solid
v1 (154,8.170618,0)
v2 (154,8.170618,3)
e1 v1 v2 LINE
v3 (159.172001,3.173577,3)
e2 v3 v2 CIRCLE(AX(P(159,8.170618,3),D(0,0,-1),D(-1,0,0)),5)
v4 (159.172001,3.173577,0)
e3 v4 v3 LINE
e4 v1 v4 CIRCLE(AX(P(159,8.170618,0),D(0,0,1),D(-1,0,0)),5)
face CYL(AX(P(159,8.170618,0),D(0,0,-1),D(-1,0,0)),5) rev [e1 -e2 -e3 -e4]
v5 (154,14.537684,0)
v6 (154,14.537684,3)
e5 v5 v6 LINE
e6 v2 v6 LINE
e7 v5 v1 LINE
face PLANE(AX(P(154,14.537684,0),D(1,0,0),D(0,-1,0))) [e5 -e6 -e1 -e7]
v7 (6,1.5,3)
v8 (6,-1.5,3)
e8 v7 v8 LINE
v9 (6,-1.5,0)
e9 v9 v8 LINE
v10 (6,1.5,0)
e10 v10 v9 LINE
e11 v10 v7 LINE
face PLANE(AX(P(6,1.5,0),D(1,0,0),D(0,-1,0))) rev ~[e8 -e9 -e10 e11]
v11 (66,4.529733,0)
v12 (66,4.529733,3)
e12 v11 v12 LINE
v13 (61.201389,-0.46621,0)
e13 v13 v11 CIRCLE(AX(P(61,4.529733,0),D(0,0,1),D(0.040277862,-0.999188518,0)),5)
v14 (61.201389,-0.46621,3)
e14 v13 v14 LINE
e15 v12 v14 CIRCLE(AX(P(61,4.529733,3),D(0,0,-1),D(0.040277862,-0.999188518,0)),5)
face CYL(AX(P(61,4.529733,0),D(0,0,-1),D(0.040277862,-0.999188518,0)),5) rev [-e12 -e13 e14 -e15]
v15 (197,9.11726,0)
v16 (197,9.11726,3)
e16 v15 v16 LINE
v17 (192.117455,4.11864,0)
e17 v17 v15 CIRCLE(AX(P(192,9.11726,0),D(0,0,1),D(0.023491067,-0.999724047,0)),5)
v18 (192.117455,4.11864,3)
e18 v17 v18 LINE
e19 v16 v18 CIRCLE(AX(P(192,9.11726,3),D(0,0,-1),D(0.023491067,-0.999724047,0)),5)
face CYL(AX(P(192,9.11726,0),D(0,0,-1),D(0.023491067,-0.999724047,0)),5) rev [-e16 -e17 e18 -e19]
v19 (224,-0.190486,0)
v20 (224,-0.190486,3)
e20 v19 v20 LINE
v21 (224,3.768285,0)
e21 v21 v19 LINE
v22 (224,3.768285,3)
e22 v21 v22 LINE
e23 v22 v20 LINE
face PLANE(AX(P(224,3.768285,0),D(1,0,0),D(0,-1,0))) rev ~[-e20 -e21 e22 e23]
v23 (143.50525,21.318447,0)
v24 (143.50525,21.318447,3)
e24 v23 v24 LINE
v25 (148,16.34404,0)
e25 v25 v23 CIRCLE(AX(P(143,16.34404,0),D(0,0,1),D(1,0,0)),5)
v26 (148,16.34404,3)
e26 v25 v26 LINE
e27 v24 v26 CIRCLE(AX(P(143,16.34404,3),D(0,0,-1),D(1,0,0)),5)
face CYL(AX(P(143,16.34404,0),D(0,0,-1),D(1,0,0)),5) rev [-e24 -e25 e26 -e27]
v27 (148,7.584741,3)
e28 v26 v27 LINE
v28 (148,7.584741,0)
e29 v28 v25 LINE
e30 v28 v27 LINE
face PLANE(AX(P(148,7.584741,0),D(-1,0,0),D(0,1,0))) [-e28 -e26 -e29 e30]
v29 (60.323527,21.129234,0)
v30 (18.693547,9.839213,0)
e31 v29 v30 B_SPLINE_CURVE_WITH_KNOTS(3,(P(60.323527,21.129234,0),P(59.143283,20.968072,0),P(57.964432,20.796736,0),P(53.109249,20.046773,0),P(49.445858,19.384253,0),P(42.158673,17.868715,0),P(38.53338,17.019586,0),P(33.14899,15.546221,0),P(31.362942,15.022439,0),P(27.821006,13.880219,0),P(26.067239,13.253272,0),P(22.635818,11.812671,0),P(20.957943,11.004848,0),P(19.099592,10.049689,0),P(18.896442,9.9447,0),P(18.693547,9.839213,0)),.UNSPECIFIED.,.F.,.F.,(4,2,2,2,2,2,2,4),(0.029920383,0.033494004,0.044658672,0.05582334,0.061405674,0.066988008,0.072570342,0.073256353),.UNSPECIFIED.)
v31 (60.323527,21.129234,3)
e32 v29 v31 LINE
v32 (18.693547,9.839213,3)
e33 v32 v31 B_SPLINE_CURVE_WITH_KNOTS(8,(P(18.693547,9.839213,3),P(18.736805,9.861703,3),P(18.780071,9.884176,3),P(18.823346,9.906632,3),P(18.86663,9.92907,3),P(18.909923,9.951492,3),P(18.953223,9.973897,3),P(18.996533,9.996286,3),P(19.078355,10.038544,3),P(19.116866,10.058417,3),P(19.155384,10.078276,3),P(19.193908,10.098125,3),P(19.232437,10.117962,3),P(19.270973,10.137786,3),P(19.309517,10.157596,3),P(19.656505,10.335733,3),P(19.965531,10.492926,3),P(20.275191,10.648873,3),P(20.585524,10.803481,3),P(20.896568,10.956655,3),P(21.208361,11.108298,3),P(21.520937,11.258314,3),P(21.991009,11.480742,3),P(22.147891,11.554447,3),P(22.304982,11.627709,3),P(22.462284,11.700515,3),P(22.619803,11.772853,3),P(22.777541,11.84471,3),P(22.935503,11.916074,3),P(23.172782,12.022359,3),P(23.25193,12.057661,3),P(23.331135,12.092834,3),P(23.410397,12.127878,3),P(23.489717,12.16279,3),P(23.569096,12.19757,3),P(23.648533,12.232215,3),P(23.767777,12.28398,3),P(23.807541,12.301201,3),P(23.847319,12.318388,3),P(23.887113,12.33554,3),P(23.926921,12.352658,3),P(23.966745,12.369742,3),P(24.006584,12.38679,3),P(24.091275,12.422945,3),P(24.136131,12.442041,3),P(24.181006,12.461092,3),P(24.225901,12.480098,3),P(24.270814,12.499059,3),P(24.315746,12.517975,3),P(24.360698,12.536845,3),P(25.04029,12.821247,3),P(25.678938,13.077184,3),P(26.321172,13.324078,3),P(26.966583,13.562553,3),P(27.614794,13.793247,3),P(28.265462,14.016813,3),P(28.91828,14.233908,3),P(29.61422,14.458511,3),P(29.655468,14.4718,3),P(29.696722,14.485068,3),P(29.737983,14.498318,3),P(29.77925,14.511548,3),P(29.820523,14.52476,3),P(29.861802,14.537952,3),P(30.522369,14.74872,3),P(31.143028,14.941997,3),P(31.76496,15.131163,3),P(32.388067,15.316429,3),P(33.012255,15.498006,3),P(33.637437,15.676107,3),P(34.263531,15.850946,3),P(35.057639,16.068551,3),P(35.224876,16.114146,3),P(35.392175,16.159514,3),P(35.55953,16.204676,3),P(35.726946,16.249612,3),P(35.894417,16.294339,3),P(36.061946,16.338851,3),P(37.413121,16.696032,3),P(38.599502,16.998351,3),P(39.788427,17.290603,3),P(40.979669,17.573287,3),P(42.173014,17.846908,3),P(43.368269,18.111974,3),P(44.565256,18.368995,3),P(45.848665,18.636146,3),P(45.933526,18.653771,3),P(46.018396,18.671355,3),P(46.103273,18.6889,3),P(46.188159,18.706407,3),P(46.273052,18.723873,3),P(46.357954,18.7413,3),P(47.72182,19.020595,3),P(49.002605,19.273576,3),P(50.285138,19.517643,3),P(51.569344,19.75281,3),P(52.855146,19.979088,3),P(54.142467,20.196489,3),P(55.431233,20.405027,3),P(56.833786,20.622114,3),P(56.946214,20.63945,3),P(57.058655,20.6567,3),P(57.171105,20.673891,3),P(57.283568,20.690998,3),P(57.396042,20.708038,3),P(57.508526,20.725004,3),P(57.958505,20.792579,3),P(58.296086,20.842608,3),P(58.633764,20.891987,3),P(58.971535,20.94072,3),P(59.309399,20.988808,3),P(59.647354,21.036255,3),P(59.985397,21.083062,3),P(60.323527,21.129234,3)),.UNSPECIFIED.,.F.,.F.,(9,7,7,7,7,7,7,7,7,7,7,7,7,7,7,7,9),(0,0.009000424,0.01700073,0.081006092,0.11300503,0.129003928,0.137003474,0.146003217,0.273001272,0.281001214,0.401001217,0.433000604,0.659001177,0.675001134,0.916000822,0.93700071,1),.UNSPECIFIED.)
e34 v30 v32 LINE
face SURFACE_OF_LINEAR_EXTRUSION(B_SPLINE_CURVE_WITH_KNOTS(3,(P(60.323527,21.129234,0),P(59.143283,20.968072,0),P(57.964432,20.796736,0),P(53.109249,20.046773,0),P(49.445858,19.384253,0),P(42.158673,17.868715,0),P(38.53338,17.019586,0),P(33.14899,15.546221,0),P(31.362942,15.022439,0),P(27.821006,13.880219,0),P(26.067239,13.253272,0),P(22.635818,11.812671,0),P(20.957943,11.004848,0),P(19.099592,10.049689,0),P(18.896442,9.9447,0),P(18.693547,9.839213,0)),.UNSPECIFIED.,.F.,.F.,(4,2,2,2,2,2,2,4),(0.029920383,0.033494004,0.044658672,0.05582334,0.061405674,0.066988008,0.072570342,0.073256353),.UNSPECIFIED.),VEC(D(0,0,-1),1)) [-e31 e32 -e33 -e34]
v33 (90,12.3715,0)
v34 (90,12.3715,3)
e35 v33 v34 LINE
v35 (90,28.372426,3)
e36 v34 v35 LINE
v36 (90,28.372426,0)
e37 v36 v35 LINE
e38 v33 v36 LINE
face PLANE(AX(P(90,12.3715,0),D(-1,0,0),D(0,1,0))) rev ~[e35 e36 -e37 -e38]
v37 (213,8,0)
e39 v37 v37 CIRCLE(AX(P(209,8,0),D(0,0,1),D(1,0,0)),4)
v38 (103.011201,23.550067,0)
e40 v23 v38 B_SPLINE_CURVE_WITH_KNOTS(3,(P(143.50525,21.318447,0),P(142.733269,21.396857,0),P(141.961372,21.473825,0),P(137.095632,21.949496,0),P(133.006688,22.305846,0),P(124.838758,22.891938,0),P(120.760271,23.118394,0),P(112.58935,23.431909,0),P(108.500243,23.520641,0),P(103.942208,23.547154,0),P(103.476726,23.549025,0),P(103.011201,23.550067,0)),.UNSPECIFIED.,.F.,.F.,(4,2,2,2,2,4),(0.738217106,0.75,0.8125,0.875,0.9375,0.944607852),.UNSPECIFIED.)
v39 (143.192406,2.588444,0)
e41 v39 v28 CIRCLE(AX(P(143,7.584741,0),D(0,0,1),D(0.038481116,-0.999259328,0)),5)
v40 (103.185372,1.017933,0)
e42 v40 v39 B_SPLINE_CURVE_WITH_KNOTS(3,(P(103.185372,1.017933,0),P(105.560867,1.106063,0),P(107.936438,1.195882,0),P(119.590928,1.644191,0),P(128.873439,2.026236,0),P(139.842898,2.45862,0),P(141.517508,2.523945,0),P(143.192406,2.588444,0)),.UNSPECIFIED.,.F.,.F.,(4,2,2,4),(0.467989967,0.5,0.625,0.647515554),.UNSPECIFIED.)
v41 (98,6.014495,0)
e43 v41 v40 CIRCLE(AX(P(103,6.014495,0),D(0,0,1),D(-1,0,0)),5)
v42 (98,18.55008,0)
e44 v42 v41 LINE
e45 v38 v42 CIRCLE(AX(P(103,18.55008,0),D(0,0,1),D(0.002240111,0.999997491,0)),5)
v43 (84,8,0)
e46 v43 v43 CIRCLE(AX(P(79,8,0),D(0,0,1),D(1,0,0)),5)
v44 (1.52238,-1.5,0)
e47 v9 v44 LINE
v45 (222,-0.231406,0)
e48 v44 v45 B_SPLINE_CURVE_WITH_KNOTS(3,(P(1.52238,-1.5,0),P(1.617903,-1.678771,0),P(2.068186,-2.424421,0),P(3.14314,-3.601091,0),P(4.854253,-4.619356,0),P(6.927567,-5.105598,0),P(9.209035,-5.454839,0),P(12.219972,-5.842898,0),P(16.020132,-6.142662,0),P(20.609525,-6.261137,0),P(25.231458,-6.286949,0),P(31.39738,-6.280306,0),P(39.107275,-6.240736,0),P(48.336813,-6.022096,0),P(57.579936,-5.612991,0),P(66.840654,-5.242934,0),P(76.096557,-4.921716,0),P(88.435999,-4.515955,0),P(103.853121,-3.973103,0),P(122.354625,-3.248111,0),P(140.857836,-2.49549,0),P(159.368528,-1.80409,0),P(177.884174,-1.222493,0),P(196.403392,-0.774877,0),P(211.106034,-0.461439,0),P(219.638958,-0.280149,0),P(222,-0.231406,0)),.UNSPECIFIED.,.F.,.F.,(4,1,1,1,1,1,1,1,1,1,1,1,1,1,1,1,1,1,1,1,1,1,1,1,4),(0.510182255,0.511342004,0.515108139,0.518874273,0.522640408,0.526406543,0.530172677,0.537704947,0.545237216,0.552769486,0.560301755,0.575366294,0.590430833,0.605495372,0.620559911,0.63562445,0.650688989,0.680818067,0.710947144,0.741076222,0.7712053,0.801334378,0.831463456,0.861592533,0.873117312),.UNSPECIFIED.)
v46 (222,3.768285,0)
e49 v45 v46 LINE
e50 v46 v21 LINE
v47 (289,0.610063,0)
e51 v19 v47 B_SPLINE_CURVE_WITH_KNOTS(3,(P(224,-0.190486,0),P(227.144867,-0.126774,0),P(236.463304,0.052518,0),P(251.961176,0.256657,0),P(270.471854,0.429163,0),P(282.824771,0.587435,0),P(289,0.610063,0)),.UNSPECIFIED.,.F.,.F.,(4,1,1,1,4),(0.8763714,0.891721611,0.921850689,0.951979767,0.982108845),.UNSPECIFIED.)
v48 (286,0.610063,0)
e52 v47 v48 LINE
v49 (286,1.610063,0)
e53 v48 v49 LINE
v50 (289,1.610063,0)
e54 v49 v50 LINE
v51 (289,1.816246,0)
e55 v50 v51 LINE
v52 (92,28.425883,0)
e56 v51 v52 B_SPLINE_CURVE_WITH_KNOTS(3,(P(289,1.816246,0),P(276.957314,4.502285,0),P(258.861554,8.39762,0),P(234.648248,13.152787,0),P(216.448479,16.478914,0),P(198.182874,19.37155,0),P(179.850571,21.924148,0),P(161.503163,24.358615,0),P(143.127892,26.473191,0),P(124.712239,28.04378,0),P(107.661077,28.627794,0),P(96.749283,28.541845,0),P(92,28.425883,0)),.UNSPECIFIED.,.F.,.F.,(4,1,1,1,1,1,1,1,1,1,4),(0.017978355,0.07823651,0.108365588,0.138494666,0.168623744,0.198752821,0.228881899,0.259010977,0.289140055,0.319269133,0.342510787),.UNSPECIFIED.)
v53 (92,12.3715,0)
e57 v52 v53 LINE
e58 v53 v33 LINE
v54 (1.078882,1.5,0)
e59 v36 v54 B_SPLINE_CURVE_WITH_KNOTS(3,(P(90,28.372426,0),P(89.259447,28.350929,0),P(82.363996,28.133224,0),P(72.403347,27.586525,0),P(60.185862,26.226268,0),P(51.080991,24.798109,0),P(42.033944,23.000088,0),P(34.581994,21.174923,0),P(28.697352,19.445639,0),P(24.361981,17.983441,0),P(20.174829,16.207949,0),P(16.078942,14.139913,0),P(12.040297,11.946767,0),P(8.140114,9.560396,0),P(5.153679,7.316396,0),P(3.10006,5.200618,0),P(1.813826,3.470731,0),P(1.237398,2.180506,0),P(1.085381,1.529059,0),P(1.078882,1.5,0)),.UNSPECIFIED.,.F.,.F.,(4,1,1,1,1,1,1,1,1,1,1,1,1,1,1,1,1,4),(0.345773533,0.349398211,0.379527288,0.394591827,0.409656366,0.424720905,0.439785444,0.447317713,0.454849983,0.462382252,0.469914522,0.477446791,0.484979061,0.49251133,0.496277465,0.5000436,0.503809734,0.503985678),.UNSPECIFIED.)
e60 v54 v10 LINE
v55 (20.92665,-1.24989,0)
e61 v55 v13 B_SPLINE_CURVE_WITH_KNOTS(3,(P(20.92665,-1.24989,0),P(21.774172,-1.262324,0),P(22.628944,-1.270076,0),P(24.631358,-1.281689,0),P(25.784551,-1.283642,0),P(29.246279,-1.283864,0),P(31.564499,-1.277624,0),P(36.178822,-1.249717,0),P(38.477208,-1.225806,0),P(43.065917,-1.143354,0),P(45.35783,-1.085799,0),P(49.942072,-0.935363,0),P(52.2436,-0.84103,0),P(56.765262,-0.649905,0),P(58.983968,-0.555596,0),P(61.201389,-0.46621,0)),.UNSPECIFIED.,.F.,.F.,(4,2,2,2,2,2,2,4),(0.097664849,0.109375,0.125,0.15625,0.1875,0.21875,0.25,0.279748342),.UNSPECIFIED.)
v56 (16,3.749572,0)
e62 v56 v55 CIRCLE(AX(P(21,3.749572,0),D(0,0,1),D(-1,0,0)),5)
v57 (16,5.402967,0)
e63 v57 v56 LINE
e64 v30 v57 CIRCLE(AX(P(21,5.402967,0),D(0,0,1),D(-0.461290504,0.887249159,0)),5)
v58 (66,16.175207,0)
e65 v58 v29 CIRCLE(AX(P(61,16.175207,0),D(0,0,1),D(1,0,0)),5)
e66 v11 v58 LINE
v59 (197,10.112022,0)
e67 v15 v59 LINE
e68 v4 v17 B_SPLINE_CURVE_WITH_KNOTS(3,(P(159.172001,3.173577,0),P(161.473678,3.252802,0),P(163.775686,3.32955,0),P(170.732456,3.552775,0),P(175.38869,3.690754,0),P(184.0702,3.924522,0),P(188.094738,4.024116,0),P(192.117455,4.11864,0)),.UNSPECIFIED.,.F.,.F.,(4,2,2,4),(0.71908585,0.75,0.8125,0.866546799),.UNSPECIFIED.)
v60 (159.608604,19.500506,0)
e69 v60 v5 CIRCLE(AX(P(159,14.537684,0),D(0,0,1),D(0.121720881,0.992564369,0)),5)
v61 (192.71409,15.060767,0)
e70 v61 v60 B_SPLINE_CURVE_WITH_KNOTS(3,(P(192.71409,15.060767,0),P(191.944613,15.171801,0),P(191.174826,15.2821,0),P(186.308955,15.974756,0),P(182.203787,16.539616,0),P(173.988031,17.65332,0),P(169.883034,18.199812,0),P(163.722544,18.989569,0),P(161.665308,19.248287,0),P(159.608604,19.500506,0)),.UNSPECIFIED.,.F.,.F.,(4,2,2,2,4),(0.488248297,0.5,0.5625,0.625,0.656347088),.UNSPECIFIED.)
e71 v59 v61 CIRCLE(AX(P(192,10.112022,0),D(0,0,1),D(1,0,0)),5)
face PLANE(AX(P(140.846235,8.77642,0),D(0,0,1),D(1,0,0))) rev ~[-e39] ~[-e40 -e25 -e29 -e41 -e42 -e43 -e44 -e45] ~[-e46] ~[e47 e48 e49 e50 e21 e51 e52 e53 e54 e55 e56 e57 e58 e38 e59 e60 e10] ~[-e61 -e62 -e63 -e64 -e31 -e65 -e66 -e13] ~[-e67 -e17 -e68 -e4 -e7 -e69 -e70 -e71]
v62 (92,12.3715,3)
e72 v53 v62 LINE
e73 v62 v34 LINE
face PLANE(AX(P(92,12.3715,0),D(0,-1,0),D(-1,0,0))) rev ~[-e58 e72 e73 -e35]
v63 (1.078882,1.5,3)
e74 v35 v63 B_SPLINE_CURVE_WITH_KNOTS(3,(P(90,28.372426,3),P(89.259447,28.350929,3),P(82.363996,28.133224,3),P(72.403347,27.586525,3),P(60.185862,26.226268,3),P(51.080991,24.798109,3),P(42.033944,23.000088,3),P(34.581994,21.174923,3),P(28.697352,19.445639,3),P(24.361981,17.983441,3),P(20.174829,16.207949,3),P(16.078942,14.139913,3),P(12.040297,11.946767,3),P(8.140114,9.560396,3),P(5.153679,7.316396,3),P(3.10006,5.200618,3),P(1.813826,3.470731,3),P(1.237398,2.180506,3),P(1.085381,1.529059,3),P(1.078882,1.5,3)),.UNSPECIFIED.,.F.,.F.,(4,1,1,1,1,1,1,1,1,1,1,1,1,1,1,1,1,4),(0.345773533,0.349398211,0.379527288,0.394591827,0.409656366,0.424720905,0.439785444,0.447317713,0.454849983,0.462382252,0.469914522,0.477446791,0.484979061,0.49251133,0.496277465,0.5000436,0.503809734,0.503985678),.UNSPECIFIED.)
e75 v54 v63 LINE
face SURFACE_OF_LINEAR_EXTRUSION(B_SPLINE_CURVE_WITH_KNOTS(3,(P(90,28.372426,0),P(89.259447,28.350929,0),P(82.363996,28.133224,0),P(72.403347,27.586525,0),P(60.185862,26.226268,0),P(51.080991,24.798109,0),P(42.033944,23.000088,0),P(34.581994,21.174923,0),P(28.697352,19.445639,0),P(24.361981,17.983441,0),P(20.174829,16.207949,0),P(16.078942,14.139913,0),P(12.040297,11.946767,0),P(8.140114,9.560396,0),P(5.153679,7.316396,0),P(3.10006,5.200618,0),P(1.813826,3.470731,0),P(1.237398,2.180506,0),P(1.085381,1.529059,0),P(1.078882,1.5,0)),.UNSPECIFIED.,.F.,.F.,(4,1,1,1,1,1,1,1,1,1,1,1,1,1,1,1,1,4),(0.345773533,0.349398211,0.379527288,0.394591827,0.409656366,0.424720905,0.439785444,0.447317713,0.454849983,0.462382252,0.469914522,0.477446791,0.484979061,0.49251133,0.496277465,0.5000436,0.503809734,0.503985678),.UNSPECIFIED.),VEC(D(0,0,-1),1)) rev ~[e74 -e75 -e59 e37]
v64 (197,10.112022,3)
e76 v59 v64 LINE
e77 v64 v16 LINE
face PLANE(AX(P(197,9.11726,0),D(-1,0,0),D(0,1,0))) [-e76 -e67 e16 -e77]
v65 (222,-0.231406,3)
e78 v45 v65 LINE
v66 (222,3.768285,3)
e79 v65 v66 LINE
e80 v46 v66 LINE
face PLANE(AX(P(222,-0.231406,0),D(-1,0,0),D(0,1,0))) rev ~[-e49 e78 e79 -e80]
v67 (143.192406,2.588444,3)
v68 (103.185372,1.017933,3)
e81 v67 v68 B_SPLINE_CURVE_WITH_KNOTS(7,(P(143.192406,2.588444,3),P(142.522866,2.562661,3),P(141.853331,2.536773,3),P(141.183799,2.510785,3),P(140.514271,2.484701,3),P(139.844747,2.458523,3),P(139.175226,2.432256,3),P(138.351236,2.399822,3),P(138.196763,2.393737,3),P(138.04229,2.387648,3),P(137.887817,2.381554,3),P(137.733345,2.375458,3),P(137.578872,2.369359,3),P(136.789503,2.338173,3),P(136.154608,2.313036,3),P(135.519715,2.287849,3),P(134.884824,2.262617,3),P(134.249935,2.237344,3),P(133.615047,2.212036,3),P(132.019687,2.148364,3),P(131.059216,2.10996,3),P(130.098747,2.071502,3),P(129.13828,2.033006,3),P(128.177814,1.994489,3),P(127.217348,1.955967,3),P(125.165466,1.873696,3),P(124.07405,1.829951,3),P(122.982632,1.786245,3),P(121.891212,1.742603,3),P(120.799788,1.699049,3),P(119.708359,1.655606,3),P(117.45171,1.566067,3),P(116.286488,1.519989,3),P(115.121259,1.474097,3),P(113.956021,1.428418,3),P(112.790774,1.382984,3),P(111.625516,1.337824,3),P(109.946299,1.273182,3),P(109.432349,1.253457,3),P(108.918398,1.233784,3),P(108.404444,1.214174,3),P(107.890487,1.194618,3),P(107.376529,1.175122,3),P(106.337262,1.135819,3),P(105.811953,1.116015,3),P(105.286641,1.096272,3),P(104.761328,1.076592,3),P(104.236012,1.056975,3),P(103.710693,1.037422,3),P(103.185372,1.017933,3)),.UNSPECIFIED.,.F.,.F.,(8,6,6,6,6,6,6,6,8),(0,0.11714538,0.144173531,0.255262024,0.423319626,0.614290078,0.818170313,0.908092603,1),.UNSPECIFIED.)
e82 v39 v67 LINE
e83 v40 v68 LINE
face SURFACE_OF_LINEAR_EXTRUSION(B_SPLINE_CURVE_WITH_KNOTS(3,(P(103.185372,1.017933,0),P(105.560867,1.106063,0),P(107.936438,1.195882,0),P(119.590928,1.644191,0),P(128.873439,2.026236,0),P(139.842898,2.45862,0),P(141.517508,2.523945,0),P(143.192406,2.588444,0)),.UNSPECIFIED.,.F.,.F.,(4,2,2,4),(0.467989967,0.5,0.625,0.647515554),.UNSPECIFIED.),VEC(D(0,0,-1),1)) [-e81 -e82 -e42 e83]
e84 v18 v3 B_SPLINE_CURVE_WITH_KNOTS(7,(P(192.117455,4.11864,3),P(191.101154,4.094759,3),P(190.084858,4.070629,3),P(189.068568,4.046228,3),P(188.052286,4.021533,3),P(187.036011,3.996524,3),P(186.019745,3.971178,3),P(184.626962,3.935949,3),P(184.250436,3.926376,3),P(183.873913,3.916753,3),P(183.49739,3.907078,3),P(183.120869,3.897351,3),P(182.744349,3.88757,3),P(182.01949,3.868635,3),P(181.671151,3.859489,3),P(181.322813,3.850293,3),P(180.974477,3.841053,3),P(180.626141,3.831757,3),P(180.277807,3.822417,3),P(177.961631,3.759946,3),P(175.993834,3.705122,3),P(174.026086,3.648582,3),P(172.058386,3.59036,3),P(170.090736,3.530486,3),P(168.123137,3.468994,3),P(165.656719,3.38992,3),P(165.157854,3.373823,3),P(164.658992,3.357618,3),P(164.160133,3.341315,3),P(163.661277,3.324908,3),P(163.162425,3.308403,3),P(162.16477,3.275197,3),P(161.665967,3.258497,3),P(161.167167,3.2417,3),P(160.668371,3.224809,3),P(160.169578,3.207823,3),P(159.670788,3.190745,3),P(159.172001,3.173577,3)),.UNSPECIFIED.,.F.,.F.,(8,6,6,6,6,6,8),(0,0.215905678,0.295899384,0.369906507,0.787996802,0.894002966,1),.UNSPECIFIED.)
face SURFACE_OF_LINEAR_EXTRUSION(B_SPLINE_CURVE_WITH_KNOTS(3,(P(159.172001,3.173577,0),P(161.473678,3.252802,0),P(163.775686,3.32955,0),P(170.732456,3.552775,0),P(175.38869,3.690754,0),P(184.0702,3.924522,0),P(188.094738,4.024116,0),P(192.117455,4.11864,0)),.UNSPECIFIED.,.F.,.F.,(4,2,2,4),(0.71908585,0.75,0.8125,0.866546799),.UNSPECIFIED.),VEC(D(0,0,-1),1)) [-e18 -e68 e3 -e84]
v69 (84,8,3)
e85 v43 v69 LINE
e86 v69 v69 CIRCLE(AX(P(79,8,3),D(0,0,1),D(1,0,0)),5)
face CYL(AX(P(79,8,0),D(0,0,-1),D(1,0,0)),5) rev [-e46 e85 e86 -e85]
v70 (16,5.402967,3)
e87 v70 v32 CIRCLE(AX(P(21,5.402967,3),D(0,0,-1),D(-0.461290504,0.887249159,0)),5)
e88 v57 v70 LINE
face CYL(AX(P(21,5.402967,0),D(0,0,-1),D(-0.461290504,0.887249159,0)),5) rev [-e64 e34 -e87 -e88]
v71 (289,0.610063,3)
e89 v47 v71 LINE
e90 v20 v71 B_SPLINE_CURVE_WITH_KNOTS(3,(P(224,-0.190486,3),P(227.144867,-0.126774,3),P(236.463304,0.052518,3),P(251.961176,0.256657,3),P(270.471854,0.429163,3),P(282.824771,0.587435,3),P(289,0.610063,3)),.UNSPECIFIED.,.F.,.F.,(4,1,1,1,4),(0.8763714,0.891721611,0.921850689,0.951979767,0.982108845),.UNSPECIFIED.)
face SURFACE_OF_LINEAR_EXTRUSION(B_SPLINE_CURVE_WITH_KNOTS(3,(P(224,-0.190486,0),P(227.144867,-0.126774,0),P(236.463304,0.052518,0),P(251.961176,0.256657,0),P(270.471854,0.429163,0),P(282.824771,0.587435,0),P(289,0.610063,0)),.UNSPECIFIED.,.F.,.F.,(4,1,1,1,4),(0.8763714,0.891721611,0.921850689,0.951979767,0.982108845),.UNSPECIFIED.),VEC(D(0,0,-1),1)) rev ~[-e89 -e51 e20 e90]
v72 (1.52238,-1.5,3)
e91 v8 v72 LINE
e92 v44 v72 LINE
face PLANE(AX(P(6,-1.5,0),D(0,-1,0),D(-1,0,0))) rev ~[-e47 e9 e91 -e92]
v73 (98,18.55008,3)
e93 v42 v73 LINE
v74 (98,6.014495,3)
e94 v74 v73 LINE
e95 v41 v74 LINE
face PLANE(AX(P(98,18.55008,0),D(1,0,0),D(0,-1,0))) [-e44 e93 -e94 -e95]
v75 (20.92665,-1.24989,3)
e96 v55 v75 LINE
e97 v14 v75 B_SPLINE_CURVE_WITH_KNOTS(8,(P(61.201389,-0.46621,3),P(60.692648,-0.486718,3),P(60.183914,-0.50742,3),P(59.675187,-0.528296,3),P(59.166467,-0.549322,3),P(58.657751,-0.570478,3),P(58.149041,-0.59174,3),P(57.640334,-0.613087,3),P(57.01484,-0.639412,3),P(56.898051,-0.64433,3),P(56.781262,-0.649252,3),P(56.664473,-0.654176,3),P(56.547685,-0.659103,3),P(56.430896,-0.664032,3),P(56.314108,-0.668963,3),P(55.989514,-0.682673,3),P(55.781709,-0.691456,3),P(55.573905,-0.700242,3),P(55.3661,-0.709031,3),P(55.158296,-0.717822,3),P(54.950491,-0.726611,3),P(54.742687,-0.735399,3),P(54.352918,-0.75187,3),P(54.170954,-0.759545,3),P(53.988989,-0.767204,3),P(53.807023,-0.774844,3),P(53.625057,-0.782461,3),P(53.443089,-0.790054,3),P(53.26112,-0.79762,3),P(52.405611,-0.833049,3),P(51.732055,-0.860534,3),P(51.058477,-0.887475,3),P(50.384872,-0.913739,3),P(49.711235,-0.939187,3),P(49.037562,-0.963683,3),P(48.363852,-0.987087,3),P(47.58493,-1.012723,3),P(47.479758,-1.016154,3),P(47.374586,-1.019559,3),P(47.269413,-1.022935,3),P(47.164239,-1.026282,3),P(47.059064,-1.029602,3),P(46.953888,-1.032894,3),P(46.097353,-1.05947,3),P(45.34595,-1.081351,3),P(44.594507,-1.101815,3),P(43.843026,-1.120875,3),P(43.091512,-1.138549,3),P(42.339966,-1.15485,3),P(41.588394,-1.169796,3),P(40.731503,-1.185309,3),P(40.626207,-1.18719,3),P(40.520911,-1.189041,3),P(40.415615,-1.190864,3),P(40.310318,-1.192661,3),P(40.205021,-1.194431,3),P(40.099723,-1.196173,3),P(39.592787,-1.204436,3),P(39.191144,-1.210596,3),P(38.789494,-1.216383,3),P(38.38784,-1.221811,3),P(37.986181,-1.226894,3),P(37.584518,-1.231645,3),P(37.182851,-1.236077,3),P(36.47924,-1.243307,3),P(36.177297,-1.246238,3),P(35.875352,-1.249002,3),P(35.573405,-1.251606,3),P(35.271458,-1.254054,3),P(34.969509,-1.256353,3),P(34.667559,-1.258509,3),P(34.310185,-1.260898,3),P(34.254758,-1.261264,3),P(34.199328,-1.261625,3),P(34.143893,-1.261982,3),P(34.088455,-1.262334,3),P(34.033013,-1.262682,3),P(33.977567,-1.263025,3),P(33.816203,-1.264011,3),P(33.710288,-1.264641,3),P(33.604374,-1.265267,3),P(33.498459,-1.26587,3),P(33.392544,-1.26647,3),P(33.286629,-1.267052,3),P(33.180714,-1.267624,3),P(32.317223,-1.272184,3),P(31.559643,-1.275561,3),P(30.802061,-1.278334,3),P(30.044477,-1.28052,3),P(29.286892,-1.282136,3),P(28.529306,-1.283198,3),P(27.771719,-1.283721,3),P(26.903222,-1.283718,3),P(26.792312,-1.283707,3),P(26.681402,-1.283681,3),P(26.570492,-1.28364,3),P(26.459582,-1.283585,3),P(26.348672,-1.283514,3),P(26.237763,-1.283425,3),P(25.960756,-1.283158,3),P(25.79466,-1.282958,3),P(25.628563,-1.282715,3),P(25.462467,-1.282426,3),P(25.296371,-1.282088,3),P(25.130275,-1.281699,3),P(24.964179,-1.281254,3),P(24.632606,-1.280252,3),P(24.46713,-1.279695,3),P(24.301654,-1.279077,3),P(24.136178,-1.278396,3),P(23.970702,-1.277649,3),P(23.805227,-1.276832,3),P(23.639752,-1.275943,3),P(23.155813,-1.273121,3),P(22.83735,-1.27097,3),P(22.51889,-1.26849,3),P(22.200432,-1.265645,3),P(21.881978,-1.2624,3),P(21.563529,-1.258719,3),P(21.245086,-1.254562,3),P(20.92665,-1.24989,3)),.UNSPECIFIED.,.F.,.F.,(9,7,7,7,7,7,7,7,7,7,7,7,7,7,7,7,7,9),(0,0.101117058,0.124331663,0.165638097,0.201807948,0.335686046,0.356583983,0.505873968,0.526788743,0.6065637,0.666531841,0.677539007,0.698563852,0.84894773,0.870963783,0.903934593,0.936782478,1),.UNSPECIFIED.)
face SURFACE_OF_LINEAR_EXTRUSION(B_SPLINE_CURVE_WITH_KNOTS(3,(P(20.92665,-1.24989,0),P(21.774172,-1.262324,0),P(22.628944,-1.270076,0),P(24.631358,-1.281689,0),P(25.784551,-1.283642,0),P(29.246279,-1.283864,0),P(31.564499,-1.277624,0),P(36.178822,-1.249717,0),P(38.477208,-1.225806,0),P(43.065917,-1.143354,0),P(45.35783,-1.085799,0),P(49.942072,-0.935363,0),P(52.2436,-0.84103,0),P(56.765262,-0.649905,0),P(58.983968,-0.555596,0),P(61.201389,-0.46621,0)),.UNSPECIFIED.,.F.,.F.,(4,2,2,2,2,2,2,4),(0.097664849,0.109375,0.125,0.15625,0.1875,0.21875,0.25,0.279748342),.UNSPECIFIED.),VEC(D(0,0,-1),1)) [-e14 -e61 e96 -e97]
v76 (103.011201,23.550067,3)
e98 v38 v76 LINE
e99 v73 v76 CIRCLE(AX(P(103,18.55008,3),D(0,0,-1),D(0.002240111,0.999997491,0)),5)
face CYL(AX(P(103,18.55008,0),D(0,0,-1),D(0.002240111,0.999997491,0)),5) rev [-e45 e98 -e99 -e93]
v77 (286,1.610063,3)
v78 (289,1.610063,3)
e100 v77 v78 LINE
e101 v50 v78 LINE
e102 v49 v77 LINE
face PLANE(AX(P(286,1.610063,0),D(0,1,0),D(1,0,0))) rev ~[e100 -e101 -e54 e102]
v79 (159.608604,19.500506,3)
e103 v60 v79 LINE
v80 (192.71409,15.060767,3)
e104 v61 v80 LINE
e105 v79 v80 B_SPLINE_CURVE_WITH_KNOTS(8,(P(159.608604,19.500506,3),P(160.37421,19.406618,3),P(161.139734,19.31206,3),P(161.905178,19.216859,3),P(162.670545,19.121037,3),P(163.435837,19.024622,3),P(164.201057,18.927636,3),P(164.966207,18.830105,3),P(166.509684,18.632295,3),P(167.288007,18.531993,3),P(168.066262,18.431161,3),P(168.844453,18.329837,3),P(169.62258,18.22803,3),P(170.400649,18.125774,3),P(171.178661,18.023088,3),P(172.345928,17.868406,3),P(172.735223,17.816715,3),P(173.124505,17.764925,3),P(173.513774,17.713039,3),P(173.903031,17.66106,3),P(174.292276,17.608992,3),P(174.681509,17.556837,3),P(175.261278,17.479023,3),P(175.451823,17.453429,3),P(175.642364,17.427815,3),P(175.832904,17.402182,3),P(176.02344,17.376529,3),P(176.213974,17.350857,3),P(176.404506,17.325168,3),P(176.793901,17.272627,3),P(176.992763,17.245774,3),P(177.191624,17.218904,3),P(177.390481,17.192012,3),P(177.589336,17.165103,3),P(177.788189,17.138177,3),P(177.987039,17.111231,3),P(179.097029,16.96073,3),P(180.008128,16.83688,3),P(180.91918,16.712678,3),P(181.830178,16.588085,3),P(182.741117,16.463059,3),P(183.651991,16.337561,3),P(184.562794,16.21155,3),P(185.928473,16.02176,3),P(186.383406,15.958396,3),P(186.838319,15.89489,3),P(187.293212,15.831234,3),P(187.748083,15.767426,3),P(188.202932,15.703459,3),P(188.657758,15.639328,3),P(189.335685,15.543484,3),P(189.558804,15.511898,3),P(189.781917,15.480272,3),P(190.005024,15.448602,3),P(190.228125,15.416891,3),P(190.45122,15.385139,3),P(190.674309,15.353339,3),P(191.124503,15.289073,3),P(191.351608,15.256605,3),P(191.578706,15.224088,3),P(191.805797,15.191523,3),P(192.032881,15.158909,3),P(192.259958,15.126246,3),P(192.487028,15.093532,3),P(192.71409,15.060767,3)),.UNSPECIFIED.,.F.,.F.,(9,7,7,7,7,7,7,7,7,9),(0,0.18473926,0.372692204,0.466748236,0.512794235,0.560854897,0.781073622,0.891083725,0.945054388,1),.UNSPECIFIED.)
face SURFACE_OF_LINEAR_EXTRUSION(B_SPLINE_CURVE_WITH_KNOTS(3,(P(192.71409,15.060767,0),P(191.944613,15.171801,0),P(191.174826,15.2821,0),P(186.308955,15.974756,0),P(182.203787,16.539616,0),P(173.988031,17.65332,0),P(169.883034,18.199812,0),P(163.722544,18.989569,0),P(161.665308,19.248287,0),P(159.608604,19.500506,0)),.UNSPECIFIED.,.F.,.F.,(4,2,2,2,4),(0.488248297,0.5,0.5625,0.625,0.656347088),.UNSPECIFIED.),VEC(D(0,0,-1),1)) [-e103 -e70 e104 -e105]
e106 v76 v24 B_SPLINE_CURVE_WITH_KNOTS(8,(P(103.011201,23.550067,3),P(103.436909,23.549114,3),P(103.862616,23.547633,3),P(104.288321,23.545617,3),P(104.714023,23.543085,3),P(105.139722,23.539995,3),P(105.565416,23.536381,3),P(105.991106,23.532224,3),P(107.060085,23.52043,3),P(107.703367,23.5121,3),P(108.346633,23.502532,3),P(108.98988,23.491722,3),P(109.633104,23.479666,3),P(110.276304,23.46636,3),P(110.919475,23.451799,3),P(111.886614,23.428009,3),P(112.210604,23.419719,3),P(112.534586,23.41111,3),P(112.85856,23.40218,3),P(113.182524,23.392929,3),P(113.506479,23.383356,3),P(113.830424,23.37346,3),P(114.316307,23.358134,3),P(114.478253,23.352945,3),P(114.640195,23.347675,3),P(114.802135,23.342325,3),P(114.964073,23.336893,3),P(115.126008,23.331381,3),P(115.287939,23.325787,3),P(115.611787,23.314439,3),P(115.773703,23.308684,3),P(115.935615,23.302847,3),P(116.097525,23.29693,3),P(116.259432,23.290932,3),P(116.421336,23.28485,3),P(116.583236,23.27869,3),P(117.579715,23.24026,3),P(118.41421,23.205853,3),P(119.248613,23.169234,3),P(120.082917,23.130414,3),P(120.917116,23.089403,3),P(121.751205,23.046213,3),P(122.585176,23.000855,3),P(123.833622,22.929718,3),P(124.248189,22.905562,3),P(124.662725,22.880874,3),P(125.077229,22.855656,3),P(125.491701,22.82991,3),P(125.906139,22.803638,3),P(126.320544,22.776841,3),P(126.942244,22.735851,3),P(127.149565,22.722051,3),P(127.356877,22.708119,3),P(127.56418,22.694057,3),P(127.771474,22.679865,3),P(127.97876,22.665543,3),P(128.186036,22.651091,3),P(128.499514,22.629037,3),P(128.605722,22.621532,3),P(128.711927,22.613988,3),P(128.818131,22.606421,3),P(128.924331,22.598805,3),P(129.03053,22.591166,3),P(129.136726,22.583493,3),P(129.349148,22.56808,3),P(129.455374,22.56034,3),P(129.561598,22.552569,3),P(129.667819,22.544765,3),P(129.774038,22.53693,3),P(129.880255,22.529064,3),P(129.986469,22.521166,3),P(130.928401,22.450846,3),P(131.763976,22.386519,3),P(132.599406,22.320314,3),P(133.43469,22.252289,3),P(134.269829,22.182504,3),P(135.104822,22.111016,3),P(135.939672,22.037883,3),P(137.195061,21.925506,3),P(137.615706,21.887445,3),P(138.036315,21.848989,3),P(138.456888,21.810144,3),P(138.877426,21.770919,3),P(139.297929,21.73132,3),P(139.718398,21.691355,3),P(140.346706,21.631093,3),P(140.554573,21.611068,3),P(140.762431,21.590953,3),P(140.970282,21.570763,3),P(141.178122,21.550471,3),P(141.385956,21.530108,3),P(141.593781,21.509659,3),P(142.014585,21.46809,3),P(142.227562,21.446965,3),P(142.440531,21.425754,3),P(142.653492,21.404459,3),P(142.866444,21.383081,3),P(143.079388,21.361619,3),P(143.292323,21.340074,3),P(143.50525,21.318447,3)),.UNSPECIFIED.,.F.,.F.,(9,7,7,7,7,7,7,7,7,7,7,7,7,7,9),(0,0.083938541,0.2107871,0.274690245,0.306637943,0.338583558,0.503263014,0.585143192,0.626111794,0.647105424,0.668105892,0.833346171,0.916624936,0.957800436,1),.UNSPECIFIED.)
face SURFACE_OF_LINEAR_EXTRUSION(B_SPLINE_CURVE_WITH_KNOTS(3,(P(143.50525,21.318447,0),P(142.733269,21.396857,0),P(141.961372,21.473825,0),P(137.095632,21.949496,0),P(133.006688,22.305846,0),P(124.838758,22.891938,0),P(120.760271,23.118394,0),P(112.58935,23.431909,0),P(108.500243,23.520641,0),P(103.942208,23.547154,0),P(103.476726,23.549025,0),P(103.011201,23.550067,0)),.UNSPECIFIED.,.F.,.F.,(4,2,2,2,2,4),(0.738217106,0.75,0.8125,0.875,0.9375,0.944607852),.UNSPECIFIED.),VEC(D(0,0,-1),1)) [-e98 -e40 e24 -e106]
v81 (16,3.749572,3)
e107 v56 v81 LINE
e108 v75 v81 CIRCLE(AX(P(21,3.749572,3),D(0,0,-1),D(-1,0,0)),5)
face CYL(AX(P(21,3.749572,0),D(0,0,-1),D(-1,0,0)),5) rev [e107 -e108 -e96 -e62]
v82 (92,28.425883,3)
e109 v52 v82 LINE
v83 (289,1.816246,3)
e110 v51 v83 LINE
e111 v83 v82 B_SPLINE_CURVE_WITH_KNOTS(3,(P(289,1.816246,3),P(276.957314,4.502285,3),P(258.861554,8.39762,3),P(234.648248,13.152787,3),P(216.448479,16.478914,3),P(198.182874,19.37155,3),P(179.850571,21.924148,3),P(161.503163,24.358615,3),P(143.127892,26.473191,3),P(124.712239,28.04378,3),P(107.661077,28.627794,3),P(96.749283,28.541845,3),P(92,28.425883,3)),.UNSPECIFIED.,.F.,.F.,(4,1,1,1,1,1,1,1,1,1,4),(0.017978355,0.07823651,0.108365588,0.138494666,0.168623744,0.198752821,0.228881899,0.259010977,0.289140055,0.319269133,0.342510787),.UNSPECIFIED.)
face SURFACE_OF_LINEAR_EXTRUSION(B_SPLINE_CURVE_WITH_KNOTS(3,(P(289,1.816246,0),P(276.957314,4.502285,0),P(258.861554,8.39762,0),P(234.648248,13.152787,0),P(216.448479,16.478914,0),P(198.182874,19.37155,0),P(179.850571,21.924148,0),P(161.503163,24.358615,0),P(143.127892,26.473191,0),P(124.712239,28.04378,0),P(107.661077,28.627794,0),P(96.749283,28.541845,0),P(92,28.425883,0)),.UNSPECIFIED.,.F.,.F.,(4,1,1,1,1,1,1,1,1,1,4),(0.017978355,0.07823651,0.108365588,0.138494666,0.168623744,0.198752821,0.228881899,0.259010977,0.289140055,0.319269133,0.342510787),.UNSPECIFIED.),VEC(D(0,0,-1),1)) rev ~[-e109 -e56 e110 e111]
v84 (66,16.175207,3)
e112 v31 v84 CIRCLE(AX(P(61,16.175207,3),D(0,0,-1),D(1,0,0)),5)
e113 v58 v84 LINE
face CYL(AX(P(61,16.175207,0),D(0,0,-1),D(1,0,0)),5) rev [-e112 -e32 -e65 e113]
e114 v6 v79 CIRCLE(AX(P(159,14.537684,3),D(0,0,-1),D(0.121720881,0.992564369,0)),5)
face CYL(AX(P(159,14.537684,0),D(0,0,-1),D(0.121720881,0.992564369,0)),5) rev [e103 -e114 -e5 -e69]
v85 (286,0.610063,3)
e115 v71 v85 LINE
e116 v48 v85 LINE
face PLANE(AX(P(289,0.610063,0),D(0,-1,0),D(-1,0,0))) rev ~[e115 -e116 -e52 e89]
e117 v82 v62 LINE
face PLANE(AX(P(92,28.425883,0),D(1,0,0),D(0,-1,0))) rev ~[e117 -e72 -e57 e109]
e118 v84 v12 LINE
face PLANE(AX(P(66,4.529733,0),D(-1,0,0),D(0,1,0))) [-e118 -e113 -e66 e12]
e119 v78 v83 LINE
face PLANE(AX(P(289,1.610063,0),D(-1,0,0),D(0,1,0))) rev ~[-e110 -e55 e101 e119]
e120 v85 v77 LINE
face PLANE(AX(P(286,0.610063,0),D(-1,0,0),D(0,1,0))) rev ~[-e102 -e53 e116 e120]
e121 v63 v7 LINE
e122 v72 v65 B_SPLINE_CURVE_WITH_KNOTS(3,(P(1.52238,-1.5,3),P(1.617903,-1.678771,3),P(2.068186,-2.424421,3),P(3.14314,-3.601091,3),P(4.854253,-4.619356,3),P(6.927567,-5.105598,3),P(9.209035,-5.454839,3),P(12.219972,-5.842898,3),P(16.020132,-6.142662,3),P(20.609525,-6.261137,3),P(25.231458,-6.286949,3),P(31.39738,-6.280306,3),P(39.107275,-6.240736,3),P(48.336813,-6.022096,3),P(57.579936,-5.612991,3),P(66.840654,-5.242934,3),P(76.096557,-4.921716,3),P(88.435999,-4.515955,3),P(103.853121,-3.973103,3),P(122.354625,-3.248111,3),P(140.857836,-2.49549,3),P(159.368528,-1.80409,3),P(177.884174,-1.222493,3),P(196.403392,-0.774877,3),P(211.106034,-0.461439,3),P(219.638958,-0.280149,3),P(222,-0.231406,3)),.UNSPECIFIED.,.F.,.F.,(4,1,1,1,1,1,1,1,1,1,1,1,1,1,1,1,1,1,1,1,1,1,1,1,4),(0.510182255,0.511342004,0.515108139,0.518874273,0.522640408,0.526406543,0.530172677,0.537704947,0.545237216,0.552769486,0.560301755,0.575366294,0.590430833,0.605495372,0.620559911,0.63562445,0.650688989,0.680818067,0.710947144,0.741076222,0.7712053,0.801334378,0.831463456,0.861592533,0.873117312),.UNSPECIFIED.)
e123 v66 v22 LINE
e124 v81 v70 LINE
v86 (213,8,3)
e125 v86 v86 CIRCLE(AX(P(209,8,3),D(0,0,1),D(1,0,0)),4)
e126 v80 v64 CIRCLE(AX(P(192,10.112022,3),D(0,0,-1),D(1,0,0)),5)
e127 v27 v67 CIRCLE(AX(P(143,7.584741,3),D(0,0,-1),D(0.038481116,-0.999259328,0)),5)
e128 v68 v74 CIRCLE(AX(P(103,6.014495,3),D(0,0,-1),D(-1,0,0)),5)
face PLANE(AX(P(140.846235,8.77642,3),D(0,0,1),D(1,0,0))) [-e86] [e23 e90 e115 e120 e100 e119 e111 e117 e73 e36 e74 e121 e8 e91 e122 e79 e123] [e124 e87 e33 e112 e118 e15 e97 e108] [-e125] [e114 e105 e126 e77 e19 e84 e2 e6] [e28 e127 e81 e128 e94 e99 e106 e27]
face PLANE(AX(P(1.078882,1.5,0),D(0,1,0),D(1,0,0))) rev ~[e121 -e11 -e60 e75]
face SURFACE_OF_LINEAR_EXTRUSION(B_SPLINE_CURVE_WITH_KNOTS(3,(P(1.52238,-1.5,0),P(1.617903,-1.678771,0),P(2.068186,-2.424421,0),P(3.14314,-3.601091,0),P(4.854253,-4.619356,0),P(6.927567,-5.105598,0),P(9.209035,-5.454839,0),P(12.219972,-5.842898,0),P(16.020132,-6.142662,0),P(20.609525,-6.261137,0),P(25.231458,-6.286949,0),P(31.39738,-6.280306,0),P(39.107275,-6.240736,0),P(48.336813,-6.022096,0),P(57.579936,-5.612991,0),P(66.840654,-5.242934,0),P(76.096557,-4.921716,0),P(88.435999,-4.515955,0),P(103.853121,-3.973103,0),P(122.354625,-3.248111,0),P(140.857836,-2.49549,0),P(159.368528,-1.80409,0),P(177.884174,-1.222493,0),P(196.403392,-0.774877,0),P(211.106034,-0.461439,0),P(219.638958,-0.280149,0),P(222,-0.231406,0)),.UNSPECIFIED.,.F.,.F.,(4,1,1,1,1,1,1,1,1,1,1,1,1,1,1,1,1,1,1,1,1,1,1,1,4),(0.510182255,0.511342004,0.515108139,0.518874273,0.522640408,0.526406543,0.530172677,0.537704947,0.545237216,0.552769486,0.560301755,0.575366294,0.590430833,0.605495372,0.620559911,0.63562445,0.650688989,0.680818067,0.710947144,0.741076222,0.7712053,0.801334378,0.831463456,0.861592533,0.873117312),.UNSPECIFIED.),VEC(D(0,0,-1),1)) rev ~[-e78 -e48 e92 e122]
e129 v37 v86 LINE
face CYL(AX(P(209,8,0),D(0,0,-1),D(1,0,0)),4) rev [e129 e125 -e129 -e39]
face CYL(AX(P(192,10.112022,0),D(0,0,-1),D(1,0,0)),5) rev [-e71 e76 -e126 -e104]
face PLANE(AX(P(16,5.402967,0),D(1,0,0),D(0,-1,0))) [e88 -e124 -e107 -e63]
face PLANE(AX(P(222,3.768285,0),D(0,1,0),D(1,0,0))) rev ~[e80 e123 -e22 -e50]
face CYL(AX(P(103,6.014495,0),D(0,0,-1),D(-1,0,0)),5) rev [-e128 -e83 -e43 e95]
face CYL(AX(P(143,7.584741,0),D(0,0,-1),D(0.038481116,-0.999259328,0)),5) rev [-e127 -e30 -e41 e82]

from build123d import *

# Parameters (mm, degrees)
SKETCH_1_R          = 5
SKETCH_1_R_2        = 4
EXTRUDE_1_DEPTH     = 3
CUT_EXTRUDE_2_DEPTH = 291.422386836


with BuildPart() as part:
    # 草图1 → 凸台-拉伸1 (new body)
    with BuildSketch(Plane.XY):
        with BuildLine():
            Line((90, 12.3715), (90, 28.372426217))
            add(Edge.make_bspline(
                [(90, 28.372426217), (89.259446982, 28.350928743), (82.363996343, 28.13322439), (72.403347361, 27.586524792), (60.185862052, 26.226268085), (51.080991088, 24.79810862), (42.033943524, 23.000087944), (34.581994337, 21.174922903), (28.697351661, 19.44563851), (24.361981086, 17.983441115), (20.174828998, 16.207949367), (16.078941989, 14.139912989), (12.040296713, 11.946766626), (8.14011433, 9.56039573), (5.153679337, 7.316395724), (3.100060439, 5.200618052), (1.813825976, 3.470730924), (1.237398467, 2.180506339), (1.085380705, 1.529058937), (1.078882286, 1.5)],
                knots=[0.345773533, 0.345773533, 0.345773533, 0.345773533, 0.349398211, 0.379527288, 0.394591827, 0.409656366, 0.424720905, 0.439785444, 0.447317713, 0.454849983, 0.462382252, 0.469914522, 0.477446791, 0.484979061, 0.49251133, 0.496277465, 0.5000436, 0.503809734, 0.503985678, 0.503985678, 0.503985678, 0.503985678], degree=3))
            Line((1.078882286, 1.5), (6, 1.5))
            Line((6, 1.5), (6, -1.5))
            Line((6, -1.5), (1.522379628, -1.5))
            add(Edge.make_bspline(
                [(1.522379628, -1.5), (1.617903461, -1.678770523), (2.068186491, -2.42442122), (3.143139608, -3.601090845), (4.854253, -4.619355756), (6.927567017, -5.105597911), (9.209034621, -5.454839075), (12.219971865, -5.84289763), (16.020132359, -6.14266222), (20.609524976, -6.2611368), (25.231457517, -6.286948592), (31.397380169, -6.280305851), (39.107274969, -6.240736398), (48.336813051, -6.022096429), (57.579935967, -5.612990736), (66.840654471, -5.242934226), (76.096556555, -4.921715721), (88.435998513, -4.515955408), (103.853120896, -3.973102953), (122.354625015, -3.248110744), (140.857835973, -2.495489966), (159.368527813, -1.804089638), (177.884173919, -1.222493213), (196.4033921, -0.774877257), (211.106034353, -0.46143934), (219.638958118, -0.28014938), (222, -0.231405833)],
                knots=[0.510182255, 0.510182255, 0.510182255, 0.510182255, 0.511342004, 0.515108139, 0.518874273, 0.522640408, 0.526406543, 0.530172677, 0.537704947, 0.545237216, 0.552769486, 0.560301755, 0.575366294, 0.590430833, 0.605495372, 0.620559911, 0.63562445, 0.650688989, 0.680818067, 0.710947144, 0.741076222, 0.7712053, 0.801334378, 0.831463456, 0.861592533, 0.873117312, 0.873117312, 0.873117312, 0.873117312], degree=3))
            Line((222, -0.231405833), (222, 3.768284765))
            Line((222, 3.768284765), (224, 3.768284765))
            Line((224, 3.768284765), (224, -0.190486213))
            add(Edge.make_bspline(
                [(224, -0.190486213), (227.14486696, -0.126773539), (236.463303784, 0.052517956), (251.961175933, 0.256656825), (270.471854229, 0.429163033), (282.824771355, 0.587434741), (289, 0.610062865)],
                knots=[0.8763714, 0.8763714, 0.8763714, 0.8763714, 0.891721611, 0.921850689, 0.951979767, 0.982108845, 0.982108845, 0.982108845, 0.982108845], degree=3))
            Line((289, 0.610062865), (286, 0.610062865))
            Line((286, 0.610062865), (286, 1.610062865))
            Line((286, 1.610062865), (289, 1.610062865))
            Line((289, 1.610062865), (289, 1.816246039))
            add(Edge.make_bspline(
                [(289, 1.816246039), (276.957314444, 4.502285023), (258.861554155, 8.397620333), (234.648247971, 13.152786595), (216.448478593, 16.478914183), (198.182873559, 19.371550405), (179.850571346, 21.924148488), (161.503162682, 24.358614825), (143.127892269, 26.473190985), (124.712239059, 28.043780086), (107.661076739, 28.627794226), (96.749283398, 28.541845307), (92, 28.425883181)],
                knots=[0.017978355, 0.017978355, 0.017978355, 0.017978355, 0.07823651, 0.108365588, 0.138494666, 0.168623744, 0.198752821, 0.228881899, 0.259010977, 0.289140055, 0.319269133, 0.342510787, 0.342510787, 0.342510787, 0.342510787], degree=3))
            Line((92, 28.425883181), (92, 12.3715))
            Line((92, 12.3715), (90, 12.3715))
        make_face()
        with Locations((79, 8)):
            Circle(SKETCH_1_R, mode=Mode.SUBTRACT)
        with Locations((209, 8)):
            Circle(SKETCH_1_R_2, mode=Mode.SUBTRACT)
    extrude(amount=EXTRUDE_1_DEPTH)

    # 草图3 → 切除-拉伸2 (cut, through all)
    with BuildSketch(Plane.XY):
        with BuildLine():
            Line((16, 5.402967421), (16, 3.749572283))
            ThreePointArc((16, 3.749572283), (17.43862744, 0.240067263), (20.926650195, -1.249889668))
            add(Edge.make_bspline(
                [(20.926650195, -1.249889668), (21.774172276, -1.262324122), (22.628944162, -1.270076322), (24.631357544, -1.281688823), (25.78455057, -1.283642157), (29.246278981, -1.283863887), (31.564498991, -1.277624199), (36.178821914, -1.249716978), (38.477208261, -1.225805817), (43.065916773, -1.143353772), (45.357830447, -1.085798853), (49.942071524, -0.935363079), (52.243600435, -0.841029597), (56.765262425, -0.649905427), (58.983967723, -0.555595534), (61.201389306, -0.466209999)],
                knots=[0.097664849, 0.097664849, 0.097664849, 0.097664849, 0.109375, 0.109375, 0.125, 0.125, 0.15625, 0.15625, 0.1875, 0.1875, 0.21875, 0.21875, 0.25, 0.25, 0.279748342, 0.279748342, 0.279748342, 0.279748342], degree=3))
            ThreePointArc((61.201389306, -0.466209999), (64.606032897, 1.066132334), (65.999999998, 4.529732589))
            Line((65.999999998, 4.529732589), (65.999999998, 16.175207171))
            ThreePointArc((65.999999998, 16.175207171), (64.287676461, 19.942325894), (60.323526607, 21.129234195))
            add(Edge.make_bspline(
                [(60.323526607, 21.129234195), (59.14328274, 20.968071656), (57.964431767, 20.796736398), (53.109249428, 20.046773379), (49.445857595, 19.384253181), (42.158673028, 17.868714577), (38.533379611, 17.019586343), (33.148990447, 15.546220745), (31.362942012, 15.022439399), (27.821005995, 13.880218625), (26.067238608, 13.253271835), (22.635818059, 11.812670552), (20.957942753, 11.004847704), (19.099592195, 10.049689097), (18.896441621, 9.944700093), (18.693547477, 9.839213217)],
                knots=[0.029920383, 0.029920383, 0.029920383, 0.029920383, 0.033494004, 0.033494004, 0.044658672, 0.044658672, 0.05582334, 0.05582334, 0.061405674, 0.061405674, 0.066988008, 0.066988008, 0.072570342, 0.072570342, 0.073256353, 0.073256353, 0.073256353, 0.073256353], degree=3))
            ThreePointArc((18.693547477, 9.839213217), (16.726110517, 7.997937304), (16, 5.402967421))
        make_face()
        with BuildLine():
            Line((98, 18.550079988), (98, 6.014495108))
            ThreePointArc((98, 6.014495108), (99.530624101, 2.414018629), (103.18537235, 1.01793258))
            add(Edge.make_bspline(
                [(103.18537235, 1.01793258), (105.560867454, 1.106063391), (107.936437779, 1.195881883), (119.590927656, 1.6441911), (128.873439493, 2.026235766), (139.842898274, 2.458620096), (141.517508234, 2.523944638), (143.192405577, 2.588444329)],
                knots=[0.467989967, 0.467989967, 0.467989967, 0.467989967, 0.5, 0.5, 0.625, 0.625, 0.647515554, 0.647515554, 0.647515554, 0.647515554], degree=3))
            ThreePointArc((143.192405577, 2.588444329), (146.602917421, 4.117900034), (148, 7.584740967))
            Line((148, 7.584740967), (148, 16.344040065))
            ThreePointArc((148, 16.344040065), (146.709868743, 19.696184738), (143.505250436, 21.318446763))
            add(Edge.make_bspline(
                [(143.505250436, 21.318446763), (142.733269268, 21.396856882), (141.961371617, 21.473825477), (137.095631637, 21.949495859), (133.006687672, 22.305846232), (124.838758232, 22.891937538), (120.76027081, 23.118394336), (112.589349819, 23.431909041), (108.50024347, 23.520641418), (103.942207816, 23.54715361), (103.476725809, 23.549024612), (103.011200556, 23.550067443)],
                knots=[0.738217106, 0.738217106, 0.738217106, 0.738217106, 0.75, 0.75, 0.8125, 0.8125, 0.875, 0.875, 0.9375, 0.9375, 0.944607852, 0.944607852, 0.944607852, 0.944607852], degree=3))
            ThreePointArc((103.011200556, 23.550067443), (99.468428309, 22.089571673), (98, 18.550079988))
        make_face()
        with BuildLine():
            Line((154, 14.537684078), (154, 8.170617563))
            ThreePointArc((154, 8.170617563), (155.525809704, 4.574786396), (159.172000715, 3.173576864))
            add(Edge.make_bspline(
                [(159.172000715, 3.173576864), (161.473677828, 3.252801775), (163.775686209, 3.329549926), (170.732455506, 3.552774746), (175.388689917, 3.690754395), (184.07020031, 3.924521784), (188.094738333, 4.024115619), (192.117455336, 4.118639618)],
                knots=[0.71908585, 0.71908585, 0.71908585, 0.71908585, 0.75, 0.75, 0.8125, 0.8125, 0.866546799, 0.866546799, 0.866546799, 0.866546799], degree=3))
            ThreePointArc((192.117455336, 4.118639618), (195.576819584, 5.623499462), (197, 9.117259852))
            Line((197, 9.117259852), (197, 10.112022474))
            ThreePointArc((197, 10.112022474), (195.77958016, 13.385365385), (192.714090476, 15.060767244))
            add(Edge.make_bspline(
                [(192.714090476, 15.060767244), (191.944613201, 15.171800732), (191.174825659, 15.282099728), (186.308954619, 15.974755997), (182.203786583, 16.539615577), (173.988030512, 17.653320176), (169.883033971, 18.199812389), (163.72254432, 18.989569369), (161.665308348, 19.2482867), (159.608604404, 19.500505924)],
                knots=[0.488248297, 0.488248297, 0.488248297, 0.488248297, 0.5, 0.5, 0.5625, 0.5625, 0.625, 0.625, 0.656347088, 0.656347088, 0.656347088, 0.656347088], degree=3))
            ThreePointArc((159.608604404, 19.500505924), (155.686619703, 18.282214891), (154, 14.537684078))
        make_face()
    extrude(amount=CUT_EXTRUDE_2_DEPTH, mode=Mode.SUBTRACT)


solid = part.part
